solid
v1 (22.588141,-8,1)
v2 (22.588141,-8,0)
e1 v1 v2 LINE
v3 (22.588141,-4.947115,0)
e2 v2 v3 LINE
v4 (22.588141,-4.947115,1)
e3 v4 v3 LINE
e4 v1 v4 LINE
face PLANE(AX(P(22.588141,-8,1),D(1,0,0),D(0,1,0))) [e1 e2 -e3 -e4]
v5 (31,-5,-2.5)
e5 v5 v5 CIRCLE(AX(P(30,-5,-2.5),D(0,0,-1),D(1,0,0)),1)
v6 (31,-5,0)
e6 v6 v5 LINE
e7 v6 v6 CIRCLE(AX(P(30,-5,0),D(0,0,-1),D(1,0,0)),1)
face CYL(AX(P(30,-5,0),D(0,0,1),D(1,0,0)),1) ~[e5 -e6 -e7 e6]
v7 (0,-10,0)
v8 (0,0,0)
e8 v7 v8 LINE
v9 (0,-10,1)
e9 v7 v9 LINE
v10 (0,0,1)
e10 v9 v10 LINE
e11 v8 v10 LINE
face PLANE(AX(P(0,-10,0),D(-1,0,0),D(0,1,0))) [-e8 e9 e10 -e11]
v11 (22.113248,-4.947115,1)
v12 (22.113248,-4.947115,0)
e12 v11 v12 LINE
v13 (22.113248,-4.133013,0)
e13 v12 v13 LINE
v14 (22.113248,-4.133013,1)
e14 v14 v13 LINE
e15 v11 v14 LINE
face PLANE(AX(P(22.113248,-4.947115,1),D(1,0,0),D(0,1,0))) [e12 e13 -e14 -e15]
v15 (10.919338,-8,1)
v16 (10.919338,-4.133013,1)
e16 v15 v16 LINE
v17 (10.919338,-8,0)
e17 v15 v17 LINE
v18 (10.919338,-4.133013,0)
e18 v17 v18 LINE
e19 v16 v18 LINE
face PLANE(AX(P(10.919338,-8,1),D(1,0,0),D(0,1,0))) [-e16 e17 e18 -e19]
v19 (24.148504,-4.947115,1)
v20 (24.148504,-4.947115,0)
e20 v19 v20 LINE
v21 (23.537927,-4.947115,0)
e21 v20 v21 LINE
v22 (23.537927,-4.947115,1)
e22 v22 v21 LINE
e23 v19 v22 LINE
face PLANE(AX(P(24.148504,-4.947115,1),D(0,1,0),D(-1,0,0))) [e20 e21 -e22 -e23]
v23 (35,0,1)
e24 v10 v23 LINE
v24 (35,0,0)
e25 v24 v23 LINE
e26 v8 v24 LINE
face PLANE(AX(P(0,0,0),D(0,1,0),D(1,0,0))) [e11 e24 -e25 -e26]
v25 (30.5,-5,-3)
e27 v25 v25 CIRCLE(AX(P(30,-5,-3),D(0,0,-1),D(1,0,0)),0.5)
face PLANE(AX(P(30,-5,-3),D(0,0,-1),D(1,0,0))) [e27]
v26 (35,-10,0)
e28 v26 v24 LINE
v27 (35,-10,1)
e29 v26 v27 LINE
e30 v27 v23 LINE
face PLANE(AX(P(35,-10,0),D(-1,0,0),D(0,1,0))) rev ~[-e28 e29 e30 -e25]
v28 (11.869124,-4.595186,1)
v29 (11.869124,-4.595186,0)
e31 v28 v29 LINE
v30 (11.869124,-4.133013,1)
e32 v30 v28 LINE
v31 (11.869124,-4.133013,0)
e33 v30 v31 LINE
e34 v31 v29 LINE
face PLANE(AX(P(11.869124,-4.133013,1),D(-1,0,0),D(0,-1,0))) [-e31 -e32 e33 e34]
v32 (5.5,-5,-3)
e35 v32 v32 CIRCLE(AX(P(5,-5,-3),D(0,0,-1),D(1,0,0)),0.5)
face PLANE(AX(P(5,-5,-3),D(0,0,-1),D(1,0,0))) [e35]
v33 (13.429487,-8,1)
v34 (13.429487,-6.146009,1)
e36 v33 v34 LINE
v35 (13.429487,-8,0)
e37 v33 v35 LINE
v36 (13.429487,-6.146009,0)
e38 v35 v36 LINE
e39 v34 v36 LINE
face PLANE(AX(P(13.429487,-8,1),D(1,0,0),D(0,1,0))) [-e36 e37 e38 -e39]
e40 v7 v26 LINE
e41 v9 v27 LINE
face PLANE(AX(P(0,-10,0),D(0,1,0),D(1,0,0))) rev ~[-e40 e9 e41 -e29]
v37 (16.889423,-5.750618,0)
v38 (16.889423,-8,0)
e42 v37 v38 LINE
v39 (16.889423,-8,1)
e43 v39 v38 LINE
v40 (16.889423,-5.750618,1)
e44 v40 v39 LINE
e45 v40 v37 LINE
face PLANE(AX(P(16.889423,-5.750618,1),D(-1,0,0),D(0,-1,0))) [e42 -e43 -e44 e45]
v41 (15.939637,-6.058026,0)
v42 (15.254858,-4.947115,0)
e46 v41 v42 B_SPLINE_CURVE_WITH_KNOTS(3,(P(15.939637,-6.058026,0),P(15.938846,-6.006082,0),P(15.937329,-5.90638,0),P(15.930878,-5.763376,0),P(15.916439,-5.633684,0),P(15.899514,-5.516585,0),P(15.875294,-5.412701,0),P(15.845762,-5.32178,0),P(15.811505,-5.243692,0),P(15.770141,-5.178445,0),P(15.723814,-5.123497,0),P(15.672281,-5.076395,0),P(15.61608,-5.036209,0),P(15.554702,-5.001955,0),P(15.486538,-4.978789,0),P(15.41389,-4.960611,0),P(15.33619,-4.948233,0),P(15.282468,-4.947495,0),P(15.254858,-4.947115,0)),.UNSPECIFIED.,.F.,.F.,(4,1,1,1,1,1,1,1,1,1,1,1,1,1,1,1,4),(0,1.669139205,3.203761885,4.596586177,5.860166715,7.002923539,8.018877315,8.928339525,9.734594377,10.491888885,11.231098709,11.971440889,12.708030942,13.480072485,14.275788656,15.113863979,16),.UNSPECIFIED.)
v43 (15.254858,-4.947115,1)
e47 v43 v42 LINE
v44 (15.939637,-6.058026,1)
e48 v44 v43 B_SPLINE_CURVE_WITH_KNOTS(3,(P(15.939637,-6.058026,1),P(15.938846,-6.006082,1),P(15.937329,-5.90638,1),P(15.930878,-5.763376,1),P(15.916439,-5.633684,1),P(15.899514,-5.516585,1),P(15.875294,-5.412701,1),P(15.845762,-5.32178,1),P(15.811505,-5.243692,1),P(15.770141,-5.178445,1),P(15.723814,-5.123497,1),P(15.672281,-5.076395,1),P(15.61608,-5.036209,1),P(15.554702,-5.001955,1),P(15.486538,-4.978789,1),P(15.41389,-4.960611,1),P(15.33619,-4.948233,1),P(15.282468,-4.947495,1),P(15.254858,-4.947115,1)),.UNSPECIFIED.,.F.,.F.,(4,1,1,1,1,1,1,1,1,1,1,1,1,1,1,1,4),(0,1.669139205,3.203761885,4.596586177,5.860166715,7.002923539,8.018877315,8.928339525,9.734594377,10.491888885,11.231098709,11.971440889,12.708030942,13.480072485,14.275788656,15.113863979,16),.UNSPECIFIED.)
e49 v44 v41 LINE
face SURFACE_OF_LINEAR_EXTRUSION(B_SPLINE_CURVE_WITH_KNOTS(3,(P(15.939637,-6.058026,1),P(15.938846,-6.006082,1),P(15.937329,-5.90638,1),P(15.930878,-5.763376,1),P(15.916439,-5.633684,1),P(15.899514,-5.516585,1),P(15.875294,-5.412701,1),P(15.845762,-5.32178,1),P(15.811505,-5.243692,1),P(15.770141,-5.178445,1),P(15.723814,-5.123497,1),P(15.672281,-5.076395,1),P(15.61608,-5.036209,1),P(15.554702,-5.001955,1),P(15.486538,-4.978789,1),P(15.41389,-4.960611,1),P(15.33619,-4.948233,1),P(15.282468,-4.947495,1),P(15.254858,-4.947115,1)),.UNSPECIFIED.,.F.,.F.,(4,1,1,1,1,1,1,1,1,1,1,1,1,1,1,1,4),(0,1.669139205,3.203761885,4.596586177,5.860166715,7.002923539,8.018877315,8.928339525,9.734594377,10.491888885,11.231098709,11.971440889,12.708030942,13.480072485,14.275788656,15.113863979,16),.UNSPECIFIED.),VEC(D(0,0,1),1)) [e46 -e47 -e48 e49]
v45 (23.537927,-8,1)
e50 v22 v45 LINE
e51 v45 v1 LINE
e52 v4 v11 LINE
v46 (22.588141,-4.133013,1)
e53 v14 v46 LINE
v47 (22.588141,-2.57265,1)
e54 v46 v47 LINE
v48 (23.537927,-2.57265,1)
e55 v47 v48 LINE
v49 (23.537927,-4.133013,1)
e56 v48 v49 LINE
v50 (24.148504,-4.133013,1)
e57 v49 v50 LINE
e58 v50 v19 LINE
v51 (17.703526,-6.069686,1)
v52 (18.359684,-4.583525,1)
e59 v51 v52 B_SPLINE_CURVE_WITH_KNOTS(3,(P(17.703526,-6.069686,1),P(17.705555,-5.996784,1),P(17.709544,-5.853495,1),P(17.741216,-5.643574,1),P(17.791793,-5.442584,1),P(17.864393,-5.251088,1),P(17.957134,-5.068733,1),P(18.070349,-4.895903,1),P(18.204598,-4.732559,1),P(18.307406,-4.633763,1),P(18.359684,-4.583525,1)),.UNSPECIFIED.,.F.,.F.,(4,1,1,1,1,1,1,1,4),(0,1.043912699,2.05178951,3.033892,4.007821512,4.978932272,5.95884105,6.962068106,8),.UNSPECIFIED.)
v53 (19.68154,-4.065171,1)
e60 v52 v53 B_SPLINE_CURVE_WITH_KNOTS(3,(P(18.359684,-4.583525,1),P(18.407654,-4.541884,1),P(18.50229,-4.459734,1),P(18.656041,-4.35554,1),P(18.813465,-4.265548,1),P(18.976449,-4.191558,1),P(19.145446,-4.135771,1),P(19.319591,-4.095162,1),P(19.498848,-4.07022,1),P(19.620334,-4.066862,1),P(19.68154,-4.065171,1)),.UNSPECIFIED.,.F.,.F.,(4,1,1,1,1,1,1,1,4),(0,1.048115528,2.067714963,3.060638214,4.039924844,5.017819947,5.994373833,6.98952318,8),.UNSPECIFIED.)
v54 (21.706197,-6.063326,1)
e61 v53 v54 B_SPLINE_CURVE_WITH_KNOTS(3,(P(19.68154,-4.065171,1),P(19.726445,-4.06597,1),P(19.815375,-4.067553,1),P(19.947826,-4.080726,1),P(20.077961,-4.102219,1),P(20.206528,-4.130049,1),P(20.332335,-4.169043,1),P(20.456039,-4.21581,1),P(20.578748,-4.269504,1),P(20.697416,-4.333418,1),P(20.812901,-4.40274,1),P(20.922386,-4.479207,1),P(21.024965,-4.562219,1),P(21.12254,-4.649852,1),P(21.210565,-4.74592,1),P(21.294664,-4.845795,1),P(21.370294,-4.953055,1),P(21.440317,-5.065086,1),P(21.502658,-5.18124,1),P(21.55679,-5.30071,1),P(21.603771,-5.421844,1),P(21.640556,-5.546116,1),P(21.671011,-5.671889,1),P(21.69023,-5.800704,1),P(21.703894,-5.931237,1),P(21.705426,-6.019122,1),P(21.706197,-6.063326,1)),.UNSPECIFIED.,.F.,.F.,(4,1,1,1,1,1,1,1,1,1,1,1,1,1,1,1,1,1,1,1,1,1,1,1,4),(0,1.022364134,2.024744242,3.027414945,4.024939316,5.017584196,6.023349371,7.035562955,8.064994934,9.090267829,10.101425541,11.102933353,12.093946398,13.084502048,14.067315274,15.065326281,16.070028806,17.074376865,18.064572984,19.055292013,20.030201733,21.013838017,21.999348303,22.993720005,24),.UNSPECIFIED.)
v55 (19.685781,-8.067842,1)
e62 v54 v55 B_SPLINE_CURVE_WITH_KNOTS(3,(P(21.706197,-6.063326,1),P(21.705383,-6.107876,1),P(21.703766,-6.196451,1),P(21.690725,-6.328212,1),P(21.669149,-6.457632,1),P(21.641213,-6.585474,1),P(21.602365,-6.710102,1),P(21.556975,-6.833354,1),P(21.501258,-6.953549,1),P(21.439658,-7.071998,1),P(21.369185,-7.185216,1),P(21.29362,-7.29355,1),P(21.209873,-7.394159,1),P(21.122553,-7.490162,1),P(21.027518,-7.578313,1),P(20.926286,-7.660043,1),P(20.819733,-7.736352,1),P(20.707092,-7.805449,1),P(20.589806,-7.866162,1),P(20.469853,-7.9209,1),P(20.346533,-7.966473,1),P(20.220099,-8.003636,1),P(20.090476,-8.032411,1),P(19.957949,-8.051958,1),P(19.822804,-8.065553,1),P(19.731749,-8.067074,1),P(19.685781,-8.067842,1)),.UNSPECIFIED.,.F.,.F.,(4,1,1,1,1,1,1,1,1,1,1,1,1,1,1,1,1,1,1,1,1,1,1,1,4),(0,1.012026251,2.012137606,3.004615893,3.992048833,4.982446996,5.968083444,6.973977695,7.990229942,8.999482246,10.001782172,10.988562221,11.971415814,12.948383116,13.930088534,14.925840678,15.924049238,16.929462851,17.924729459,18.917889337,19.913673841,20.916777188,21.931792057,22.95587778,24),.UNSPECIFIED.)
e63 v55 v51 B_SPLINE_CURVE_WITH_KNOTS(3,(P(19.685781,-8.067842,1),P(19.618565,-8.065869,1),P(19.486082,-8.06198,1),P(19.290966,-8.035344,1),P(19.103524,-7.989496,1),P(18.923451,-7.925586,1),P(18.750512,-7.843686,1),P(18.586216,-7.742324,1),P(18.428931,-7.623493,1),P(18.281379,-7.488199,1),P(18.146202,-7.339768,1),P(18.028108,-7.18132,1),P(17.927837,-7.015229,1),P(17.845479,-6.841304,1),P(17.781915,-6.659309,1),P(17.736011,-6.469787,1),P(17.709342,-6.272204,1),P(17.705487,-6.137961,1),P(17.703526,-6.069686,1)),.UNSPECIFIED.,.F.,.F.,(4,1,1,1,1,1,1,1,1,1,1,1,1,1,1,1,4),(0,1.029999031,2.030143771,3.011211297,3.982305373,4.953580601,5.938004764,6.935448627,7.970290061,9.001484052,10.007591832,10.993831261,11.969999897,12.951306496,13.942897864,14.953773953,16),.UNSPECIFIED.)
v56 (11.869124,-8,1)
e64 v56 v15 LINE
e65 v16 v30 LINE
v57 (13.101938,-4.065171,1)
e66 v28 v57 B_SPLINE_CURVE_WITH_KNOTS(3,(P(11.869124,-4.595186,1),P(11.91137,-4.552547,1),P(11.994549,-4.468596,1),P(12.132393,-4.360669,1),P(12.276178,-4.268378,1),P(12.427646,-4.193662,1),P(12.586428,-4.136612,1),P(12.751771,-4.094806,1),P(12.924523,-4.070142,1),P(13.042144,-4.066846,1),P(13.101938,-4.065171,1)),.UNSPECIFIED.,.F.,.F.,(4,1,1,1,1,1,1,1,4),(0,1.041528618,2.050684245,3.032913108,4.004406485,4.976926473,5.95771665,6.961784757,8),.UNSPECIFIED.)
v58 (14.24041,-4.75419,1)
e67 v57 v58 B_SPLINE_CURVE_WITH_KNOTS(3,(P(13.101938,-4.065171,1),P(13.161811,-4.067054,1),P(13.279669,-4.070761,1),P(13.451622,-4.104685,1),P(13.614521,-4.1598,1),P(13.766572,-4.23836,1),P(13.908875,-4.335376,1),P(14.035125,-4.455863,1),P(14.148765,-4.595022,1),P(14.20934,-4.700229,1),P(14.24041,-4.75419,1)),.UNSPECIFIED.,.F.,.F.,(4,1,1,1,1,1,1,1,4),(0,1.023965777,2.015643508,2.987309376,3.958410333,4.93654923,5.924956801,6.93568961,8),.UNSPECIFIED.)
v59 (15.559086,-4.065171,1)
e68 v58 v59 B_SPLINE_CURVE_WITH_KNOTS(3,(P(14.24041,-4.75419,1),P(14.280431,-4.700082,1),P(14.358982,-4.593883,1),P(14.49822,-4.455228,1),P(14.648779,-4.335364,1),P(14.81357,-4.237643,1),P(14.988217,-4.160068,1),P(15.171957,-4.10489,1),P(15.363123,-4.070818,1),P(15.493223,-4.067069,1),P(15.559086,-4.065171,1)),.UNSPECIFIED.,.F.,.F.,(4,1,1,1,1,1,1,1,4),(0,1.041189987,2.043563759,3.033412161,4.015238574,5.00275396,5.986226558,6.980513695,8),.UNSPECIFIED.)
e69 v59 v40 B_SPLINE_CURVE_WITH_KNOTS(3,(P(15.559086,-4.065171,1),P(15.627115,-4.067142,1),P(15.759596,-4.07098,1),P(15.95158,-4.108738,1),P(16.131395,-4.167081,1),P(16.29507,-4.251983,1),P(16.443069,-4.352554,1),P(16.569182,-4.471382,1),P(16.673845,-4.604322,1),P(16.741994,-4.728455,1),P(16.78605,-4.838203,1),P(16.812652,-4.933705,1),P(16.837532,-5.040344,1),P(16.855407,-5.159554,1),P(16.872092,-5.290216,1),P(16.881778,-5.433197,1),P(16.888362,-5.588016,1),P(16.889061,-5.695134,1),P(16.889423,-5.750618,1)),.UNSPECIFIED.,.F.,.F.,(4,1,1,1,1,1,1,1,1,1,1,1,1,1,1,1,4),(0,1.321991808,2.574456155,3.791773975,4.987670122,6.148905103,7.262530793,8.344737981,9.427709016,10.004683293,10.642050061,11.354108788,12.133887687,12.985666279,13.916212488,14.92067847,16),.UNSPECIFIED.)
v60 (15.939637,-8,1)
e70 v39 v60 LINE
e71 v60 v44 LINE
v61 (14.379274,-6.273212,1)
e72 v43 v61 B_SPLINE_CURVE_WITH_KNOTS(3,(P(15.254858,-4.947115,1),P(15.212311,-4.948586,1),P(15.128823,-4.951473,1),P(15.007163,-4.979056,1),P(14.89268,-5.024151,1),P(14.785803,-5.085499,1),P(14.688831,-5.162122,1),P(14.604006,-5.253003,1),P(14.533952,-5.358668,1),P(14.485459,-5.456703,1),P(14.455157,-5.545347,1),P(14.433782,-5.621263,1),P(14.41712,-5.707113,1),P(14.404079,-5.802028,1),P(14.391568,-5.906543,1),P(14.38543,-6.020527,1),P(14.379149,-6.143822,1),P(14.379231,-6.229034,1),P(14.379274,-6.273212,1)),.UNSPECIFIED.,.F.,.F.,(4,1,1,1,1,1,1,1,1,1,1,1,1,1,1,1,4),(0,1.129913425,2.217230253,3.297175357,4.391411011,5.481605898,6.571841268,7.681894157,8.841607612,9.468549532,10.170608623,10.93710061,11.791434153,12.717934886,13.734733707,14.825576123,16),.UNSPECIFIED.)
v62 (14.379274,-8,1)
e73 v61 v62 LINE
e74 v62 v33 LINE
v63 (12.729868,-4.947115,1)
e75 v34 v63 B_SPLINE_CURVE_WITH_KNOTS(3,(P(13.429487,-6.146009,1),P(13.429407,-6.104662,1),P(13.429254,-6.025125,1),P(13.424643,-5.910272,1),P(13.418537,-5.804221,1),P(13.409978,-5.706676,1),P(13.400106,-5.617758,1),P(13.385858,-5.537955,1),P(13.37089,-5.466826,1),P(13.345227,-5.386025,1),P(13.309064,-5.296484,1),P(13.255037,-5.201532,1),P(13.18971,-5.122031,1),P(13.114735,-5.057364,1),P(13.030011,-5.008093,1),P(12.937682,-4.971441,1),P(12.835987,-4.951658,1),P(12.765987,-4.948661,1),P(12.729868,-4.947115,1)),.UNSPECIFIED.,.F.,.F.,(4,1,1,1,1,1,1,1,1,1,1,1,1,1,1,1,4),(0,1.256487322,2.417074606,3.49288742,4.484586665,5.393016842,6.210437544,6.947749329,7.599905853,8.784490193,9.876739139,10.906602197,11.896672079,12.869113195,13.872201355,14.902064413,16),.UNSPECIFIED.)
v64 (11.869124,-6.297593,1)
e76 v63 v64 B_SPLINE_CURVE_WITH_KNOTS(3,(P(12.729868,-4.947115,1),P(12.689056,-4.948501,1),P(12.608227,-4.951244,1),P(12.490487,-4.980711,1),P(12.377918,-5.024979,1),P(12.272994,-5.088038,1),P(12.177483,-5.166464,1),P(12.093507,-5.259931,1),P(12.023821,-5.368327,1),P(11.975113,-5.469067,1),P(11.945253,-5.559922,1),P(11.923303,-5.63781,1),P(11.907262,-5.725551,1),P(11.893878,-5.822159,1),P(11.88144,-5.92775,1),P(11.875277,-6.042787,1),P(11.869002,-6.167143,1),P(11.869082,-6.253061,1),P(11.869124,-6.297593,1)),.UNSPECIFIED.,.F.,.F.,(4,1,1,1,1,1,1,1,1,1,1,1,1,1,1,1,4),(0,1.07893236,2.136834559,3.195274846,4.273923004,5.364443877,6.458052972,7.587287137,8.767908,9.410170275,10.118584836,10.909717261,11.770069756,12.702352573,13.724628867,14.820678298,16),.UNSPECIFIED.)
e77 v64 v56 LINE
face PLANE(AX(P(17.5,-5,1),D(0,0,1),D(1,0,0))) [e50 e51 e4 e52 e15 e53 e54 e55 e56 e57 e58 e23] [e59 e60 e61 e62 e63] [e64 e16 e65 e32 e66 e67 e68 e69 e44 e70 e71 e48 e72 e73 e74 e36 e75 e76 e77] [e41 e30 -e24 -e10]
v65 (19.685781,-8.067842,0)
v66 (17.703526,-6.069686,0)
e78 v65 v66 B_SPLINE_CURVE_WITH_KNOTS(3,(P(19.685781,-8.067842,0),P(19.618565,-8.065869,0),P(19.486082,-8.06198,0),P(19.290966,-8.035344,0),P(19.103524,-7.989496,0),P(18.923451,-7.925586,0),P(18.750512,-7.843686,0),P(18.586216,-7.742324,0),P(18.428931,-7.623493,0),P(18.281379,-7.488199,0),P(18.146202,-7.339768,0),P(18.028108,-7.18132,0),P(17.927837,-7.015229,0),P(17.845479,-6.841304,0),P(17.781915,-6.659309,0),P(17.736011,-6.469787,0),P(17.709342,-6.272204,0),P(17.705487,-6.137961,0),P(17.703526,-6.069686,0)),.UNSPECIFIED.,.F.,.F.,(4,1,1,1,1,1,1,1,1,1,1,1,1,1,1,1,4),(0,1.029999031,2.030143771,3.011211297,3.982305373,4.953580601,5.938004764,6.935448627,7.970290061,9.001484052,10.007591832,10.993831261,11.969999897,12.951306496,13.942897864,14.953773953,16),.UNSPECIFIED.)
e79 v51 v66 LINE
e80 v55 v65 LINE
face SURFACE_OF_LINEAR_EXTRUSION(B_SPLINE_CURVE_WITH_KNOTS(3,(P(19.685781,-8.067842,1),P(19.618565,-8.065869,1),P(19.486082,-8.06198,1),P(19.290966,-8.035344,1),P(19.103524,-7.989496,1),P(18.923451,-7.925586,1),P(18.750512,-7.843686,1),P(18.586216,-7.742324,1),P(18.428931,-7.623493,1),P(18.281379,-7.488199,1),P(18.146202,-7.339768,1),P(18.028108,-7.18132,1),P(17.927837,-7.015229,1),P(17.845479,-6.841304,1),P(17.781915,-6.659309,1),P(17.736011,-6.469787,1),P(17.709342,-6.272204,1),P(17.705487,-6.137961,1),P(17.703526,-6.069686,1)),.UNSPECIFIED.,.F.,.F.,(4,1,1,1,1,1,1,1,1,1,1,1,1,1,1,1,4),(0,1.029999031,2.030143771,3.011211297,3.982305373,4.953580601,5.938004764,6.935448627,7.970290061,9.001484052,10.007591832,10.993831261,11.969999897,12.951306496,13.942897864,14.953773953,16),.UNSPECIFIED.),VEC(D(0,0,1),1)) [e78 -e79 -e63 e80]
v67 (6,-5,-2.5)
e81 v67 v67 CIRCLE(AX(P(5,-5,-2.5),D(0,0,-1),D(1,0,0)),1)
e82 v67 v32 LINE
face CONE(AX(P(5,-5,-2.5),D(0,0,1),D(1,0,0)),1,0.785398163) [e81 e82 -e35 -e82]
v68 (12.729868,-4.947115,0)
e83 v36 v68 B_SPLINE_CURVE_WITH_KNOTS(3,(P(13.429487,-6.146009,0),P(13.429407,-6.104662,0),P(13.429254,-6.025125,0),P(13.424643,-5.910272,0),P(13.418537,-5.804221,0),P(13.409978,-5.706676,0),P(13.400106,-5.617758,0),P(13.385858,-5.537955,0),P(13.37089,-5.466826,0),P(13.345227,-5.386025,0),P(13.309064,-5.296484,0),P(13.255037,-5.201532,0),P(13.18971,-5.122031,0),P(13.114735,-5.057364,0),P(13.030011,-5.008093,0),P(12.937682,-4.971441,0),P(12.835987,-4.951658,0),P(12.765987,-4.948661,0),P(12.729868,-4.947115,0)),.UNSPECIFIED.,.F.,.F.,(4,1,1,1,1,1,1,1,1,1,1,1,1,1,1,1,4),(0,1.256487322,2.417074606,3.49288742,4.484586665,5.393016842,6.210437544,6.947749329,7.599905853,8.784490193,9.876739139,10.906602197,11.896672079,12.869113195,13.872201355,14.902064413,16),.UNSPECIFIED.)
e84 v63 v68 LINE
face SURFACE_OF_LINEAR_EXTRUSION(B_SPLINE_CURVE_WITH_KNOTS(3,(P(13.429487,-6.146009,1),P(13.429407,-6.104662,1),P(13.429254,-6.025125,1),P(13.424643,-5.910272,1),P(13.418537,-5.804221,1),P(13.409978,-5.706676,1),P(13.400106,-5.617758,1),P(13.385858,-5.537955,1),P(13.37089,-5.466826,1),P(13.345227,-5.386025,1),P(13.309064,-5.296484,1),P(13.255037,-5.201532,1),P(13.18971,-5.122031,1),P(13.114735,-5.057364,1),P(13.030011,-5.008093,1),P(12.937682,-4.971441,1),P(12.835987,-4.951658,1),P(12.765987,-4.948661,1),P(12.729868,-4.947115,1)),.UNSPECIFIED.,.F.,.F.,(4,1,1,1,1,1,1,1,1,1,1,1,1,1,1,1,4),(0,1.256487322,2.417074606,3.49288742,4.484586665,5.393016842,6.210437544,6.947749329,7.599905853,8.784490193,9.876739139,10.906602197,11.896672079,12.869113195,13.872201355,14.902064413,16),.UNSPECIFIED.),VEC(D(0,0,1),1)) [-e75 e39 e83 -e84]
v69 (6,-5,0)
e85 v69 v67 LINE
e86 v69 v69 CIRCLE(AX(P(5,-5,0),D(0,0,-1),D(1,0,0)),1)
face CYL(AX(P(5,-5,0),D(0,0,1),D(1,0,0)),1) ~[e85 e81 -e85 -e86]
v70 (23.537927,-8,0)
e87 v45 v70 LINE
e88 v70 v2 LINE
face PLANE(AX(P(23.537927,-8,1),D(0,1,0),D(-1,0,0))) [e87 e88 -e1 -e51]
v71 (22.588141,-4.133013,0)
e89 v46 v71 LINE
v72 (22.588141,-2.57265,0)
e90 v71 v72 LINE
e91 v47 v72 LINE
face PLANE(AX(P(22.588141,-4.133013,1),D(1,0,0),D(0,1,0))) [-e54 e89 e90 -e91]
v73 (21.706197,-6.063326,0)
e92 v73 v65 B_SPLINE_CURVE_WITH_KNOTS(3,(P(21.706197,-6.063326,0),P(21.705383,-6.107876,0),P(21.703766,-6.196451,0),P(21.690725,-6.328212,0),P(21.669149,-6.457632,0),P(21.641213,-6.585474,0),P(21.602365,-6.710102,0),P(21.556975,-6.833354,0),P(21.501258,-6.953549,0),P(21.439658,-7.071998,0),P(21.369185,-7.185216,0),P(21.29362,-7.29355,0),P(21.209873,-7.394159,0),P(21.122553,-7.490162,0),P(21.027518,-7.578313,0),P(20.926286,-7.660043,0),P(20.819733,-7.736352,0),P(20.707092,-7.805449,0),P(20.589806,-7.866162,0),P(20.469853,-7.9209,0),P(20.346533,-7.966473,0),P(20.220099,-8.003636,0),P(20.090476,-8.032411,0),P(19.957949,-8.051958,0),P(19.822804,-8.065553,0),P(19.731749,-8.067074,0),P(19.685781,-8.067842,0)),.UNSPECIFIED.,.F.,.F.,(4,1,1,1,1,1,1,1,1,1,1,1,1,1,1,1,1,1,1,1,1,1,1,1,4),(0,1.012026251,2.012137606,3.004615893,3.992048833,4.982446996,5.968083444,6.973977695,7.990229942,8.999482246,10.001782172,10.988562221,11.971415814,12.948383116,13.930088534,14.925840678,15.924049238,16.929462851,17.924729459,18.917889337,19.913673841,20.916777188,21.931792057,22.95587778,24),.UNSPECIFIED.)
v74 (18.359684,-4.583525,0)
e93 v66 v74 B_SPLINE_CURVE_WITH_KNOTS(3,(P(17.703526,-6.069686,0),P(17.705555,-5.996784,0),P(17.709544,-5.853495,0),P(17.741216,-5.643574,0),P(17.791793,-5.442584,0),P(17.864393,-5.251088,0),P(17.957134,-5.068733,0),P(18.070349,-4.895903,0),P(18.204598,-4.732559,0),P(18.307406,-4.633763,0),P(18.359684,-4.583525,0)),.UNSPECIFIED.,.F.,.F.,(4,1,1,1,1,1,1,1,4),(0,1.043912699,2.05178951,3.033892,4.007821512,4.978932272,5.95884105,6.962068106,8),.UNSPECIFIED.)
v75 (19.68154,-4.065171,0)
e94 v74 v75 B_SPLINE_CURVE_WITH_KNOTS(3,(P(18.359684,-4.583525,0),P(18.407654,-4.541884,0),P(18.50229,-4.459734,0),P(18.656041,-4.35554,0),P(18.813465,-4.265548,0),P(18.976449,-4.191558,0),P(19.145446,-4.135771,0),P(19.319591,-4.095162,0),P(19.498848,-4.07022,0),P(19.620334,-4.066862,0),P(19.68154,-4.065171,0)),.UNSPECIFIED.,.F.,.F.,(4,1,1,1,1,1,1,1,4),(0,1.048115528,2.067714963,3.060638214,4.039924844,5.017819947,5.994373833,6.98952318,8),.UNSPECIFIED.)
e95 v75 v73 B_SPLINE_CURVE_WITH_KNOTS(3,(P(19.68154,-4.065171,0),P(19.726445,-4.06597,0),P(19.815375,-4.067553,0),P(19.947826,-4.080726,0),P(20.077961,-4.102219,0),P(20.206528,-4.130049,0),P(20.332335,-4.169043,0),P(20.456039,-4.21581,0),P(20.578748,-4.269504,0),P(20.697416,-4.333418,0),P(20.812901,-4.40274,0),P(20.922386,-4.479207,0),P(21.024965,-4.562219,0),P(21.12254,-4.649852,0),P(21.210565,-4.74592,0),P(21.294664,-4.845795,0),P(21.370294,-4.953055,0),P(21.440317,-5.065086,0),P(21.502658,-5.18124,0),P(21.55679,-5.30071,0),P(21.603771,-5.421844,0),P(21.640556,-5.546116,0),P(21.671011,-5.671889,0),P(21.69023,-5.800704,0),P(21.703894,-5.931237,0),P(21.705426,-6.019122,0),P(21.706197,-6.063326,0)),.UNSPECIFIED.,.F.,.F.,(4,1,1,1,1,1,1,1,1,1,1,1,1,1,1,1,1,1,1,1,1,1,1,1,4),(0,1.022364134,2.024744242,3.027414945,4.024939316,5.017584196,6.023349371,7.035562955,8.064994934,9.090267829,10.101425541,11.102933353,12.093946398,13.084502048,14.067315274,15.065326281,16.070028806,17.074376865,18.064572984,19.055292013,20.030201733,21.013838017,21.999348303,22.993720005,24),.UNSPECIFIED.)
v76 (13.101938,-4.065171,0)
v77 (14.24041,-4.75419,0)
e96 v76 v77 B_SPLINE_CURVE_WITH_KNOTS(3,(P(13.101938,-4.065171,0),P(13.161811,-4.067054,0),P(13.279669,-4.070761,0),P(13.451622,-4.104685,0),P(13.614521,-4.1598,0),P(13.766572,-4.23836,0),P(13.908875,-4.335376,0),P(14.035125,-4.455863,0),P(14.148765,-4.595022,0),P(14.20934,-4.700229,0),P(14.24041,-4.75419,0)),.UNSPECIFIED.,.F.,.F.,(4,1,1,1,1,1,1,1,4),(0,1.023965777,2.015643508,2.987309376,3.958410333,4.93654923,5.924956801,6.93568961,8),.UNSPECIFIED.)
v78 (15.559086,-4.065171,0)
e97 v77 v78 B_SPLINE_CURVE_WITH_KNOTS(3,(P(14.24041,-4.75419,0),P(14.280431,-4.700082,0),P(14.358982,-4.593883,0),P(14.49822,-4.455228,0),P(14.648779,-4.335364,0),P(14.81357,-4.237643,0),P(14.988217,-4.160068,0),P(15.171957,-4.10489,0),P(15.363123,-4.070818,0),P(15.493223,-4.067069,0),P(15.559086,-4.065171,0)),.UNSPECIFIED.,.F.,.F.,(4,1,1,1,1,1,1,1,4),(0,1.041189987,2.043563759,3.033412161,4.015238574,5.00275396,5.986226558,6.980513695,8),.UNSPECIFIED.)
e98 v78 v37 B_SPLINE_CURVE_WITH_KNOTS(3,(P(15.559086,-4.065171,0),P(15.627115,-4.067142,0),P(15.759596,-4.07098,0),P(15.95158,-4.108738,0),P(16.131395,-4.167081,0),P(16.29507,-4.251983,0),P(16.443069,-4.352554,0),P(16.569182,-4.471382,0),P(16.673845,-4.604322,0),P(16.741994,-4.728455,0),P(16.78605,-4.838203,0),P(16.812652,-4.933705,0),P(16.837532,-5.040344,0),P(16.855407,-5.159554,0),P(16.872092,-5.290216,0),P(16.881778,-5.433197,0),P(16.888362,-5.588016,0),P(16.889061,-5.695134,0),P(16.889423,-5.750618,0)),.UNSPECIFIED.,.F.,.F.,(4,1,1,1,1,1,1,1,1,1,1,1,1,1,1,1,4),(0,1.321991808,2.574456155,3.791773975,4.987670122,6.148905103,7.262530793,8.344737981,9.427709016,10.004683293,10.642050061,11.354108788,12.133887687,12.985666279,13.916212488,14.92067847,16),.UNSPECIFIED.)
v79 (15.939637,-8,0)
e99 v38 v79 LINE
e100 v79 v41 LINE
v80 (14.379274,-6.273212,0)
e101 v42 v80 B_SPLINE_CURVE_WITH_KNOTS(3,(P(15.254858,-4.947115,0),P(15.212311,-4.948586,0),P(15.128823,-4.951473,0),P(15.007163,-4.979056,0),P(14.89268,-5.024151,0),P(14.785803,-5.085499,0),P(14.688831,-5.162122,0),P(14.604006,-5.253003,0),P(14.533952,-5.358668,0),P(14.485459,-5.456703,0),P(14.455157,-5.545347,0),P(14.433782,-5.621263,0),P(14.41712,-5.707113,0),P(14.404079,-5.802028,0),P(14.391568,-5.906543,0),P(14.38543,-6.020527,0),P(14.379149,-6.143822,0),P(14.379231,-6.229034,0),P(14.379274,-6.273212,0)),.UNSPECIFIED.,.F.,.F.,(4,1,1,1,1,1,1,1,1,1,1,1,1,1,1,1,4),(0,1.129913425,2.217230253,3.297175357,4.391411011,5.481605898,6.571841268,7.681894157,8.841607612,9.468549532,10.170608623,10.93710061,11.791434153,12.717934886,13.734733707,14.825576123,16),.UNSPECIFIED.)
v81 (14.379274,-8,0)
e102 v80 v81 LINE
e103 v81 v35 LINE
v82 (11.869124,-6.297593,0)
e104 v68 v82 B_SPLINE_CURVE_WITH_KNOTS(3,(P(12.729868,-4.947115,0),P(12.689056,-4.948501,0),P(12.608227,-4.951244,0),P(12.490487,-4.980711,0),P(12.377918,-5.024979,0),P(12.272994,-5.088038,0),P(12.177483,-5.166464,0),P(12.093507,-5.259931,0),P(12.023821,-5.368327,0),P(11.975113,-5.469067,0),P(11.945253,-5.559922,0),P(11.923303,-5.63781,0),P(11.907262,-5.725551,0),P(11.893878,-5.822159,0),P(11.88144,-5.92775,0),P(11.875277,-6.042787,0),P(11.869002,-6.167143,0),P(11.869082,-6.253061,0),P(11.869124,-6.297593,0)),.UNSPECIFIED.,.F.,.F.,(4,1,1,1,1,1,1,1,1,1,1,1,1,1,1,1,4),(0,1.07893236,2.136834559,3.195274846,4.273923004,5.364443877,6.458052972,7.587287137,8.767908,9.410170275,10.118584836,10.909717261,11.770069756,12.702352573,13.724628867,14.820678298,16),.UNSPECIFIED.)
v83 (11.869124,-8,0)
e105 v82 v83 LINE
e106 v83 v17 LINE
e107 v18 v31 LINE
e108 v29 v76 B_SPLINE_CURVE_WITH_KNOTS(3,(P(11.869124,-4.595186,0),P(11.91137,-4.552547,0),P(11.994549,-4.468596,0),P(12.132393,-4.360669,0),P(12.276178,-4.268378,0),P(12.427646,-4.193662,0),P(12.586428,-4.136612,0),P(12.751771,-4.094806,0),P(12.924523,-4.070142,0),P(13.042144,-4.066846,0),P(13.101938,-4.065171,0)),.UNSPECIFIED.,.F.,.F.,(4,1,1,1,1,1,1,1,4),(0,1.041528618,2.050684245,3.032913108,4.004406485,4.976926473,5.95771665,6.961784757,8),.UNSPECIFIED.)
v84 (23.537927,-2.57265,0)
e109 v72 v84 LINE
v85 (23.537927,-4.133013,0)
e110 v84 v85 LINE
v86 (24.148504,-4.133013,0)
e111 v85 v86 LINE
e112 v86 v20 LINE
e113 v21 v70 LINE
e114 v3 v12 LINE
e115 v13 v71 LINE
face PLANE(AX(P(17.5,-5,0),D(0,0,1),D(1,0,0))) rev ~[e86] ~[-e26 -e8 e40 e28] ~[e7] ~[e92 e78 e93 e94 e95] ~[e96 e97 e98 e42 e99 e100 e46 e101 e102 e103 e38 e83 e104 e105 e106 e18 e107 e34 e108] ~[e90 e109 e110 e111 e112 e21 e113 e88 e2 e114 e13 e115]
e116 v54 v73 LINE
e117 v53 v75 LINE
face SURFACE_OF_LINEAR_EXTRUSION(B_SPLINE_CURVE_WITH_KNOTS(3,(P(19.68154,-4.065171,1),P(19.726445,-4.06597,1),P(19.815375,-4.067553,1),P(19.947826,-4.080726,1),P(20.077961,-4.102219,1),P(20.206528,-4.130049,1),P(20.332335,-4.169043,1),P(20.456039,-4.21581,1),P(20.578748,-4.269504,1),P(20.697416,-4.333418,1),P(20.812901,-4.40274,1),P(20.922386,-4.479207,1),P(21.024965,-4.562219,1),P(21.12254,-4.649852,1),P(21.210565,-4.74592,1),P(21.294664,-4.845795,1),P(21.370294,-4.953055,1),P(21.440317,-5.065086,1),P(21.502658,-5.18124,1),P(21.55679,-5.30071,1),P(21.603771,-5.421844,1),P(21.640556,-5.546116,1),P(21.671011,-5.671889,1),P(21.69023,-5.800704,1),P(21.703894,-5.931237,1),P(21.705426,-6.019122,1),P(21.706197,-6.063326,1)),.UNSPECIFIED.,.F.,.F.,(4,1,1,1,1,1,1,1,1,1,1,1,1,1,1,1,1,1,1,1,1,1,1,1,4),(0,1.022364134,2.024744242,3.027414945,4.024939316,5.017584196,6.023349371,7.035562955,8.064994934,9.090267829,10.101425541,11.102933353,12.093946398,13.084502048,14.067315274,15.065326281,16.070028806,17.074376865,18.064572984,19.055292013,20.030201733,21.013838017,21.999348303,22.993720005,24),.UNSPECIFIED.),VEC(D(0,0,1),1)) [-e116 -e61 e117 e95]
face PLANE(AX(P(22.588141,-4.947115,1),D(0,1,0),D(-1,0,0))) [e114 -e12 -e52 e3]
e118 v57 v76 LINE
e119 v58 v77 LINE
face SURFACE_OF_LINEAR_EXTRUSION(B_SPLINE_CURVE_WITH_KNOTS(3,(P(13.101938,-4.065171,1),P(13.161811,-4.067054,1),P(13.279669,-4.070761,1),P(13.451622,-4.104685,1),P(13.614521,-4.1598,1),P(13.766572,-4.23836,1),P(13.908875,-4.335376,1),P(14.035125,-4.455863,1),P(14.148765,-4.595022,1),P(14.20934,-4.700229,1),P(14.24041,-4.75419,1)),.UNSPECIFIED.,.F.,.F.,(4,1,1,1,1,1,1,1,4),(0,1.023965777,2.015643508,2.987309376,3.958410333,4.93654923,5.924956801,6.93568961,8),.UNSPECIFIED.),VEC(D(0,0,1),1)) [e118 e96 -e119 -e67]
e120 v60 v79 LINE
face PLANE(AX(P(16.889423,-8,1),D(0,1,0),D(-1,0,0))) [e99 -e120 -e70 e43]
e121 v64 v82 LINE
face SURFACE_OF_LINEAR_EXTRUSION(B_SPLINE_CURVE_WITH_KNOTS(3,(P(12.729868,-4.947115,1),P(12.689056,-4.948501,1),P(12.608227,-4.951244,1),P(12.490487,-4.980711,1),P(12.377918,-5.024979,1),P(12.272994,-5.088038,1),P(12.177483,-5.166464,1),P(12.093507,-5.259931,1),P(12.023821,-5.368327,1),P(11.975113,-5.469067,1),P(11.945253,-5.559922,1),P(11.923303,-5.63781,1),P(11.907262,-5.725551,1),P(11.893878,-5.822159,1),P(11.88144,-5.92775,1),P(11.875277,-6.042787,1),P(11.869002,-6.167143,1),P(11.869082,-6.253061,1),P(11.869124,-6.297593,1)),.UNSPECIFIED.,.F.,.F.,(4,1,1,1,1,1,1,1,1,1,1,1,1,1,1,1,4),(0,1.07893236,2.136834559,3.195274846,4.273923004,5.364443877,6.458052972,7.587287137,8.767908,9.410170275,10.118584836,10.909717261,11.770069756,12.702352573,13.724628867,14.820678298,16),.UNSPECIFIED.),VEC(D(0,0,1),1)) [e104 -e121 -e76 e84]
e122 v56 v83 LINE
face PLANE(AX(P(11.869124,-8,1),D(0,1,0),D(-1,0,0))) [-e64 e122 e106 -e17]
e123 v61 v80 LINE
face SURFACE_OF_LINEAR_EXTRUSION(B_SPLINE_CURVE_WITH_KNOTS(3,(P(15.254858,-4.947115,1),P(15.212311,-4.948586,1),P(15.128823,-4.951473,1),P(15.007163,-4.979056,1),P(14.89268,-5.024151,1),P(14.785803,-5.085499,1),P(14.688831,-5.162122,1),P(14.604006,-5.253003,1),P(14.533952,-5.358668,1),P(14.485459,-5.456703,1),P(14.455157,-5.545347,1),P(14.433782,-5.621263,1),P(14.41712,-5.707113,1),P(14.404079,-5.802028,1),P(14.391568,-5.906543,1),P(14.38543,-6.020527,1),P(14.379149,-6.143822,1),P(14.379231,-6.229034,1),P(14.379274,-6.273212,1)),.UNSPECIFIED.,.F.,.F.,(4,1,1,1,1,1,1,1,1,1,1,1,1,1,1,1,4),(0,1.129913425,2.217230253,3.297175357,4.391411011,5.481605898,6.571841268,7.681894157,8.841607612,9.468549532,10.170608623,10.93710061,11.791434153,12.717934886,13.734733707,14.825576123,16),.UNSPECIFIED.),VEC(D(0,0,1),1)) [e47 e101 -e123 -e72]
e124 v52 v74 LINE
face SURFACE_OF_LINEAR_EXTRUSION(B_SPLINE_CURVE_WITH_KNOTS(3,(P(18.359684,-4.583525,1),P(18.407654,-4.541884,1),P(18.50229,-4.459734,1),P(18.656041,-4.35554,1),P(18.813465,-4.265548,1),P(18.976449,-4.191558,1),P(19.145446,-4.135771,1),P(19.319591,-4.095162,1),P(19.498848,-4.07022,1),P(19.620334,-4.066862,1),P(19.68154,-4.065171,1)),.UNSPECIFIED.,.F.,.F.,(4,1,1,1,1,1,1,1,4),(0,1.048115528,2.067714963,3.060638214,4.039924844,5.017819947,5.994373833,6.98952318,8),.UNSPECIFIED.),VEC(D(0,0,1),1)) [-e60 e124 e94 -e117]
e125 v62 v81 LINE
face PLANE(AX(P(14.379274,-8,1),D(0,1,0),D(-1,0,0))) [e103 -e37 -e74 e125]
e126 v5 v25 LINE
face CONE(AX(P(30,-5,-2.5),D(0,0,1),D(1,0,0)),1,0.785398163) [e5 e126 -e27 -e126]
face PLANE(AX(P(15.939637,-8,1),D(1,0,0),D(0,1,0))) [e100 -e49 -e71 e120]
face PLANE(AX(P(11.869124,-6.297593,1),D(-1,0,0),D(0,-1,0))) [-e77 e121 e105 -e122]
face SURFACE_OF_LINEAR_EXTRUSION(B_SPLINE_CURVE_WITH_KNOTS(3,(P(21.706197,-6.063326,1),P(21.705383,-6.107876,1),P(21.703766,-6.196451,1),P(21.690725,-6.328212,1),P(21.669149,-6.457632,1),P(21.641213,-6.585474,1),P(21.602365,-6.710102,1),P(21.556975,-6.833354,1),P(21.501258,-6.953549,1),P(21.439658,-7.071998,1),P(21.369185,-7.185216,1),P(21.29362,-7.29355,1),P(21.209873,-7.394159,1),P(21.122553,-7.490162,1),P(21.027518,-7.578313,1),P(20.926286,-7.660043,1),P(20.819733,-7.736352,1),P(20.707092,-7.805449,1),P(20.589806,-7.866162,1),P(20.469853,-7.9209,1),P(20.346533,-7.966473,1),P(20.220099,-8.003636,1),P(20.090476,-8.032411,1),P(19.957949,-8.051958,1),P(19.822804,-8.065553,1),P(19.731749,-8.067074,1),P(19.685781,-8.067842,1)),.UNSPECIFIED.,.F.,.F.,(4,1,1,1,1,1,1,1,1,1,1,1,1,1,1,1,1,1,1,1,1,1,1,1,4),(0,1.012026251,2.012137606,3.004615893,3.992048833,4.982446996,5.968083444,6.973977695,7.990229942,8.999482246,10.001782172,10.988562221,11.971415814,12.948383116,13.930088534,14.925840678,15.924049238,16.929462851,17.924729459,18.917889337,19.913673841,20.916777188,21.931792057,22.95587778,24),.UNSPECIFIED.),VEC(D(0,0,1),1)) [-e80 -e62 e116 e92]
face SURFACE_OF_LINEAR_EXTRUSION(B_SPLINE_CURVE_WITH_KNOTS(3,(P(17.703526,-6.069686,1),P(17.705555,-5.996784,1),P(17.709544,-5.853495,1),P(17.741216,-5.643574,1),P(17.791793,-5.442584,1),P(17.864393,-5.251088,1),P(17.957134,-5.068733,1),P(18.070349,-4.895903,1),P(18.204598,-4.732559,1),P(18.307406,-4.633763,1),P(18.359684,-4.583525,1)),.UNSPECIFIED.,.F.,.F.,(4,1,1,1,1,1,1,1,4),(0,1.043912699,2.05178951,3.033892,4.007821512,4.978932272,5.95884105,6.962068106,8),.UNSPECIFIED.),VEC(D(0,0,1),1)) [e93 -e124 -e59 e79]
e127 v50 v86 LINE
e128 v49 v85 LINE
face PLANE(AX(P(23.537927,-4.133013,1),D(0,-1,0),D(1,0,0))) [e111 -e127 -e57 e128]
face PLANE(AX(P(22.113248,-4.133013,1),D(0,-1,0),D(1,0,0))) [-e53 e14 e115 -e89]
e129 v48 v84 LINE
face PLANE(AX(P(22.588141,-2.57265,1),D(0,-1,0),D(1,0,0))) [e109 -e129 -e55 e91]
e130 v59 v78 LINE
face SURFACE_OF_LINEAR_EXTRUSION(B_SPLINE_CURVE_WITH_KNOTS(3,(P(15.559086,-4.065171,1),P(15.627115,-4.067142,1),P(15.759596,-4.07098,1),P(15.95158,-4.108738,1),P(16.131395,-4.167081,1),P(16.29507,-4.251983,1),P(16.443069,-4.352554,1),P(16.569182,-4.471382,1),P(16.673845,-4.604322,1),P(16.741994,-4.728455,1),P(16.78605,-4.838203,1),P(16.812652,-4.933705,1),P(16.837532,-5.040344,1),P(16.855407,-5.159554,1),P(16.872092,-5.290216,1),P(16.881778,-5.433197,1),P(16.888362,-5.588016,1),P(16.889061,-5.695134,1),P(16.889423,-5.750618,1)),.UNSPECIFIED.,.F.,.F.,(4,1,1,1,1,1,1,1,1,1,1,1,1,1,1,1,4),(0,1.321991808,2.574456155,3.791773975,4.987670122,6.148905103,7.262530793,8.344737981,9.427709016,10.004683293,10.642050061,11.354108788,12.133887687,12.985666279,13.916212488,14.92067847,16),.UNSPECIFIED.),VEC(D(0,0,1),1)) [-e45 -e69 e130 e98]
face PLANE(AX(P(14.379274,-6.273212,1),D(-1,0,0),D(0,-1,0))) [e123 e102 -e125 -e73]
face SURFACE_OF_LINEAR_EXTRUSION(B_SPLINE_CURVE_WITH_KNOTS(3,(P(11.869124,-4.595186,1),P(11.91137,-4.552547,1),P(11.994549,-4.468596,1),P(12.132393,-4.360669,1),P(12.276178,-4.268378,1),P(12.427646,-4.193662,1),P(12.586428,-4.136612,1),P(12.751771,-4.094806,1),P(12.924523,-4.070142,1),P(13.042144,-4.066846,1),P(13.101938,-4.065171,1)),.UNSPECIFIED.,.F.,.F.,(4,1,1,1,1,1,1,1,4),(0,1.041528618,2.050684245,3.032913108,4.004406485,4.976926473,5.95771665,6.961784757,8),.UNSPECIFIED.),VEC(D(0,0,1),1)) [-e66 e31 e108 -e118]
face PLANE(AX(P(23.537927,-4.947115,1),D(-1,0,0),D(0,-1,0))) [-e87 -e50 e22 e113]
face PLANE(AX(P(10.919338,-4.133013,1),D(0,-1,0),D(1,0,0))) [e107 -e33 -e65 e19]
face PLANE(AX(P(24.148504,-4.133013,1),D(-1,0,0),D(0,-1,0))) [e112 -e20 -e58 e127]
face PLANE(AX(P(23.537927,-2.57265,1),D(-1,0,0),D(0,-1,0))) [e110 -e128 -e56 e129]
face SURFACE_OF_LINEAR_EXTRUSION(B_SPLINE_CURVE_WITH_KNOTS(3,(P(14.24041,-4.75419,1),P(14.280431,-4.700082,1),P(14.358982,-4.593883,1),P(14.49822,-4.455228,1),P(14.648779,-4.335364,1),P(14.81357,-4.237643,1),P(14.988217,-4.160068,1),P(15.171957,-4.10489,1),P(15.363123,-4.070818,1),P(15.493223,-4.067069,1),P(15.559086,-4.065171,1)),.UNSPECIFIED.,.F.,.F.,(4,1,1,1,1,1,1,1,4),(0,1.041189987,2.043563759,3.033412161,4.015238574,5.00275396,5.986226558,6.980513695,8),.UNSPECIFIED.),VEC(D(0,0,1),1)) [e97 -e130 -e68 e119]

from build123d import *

# Parameters (mm, degrees)
ESQUISSE1_W             = 35
ESQUISSE1_H             = 10
BOSS_EXTRU_1_DEPTH      = 1
ESQUISSE2_R             = 1
BOSS_EXTRU_2_DEPTH      = 3
CHANFREIN1_SIZE         = 0.5
ENL_V_MAT_EXTRU_2_DEPTH = 1


with BuildPart() as part:
    # Esquisse1 → Boss.-Extru.1 (new body)
    with BuildSketch(Plane.XY):
        with Locations((17.5, -5)):
            Rectangle(ESQUISSE1_W, ESQUISSE1_H)
    extrude(amount=BOSS_EXTRU_1_DEPTH)

    # Esquisse2 → Boss.-Extru.2 (add)
    with BuildSketch(Plane(origin=(0, 0, 0), x_dir=(-1, 0, 0), z_dir=(0, 0, -1))):
        with Locations(Location((-30, -5, 0), (0, 0, 180))):  # turned: the seam where the file's is
            Circle(ESQUISSE2_R)
        with Locations(Location((-5, -5, 0), (0, 0, 180))):  # turned: the seam where the file's is
            Circle(ESQUISSE2_R)
    extrude(amount=BOSS_EXTRU_2_DEPTH)

    # Chanfrein1
    chanfrein1_edges = [part.edges().sort_by_distance(p)[0] for p in [
        (29, -5, -3),
        (4, -5, -3),
    ]]
    chamfer(chanfrein1_edges, length=CHANFREIN1_SIZE)

    # Esquisse3 → Enlèv. mat.-Extru.2 (cut)
    with BuildSketch(Plane.XY.offset(1)):
        with BuildLine():
            Line((10.919337607, -4.133012821), (11.869123932, -4.133012821))
            Line((11.869123932, -4.133012821), (11.869123932, -4.59518563))
            add(Edge.make_bspline(
                [(11.869123932, -4.59518563), (11.911369945, -4.552547263), (11.994548872, -4.468595821), (12.132392627, -4.360668696), (12.276177621, -4.268377671), (12.4276463, -4.193662277), (12.586428178, -4.136611678), (12.751770713, -4.09480584), (12.924523171, -4.070141705), (13.042144246, -4.066846229), (13.101938101, -4.06517094)],
                knots=[0, 0, 0, 0, 1.041528618, 2.050684245, 3.032913108, 4.004406485, 4.976926473, 5.95771665, 6.961784757, 8, 8, 8, 8], degree=3))
            add(Edge.make_bspline(
                [(13.101938101, -4.06517094), (13.161810904, -4.067054206), (13.279668581, -4.070761355), (13.451622112, -4.104685241), (13.614520608, -4.159800091), (13.766571805, -4.238359539), (13.908874639, -4.335376374), (14.035125, -4.45586279), (14.148765497, -4.595022486), (14.209340256, -4.700228713), (14.240409655, -4.754190037)],
                knots=[0, 0, 0, 0, 1.023965777, 2.015643508, 2.987309376, 3.958410333, 4.93654923, 5.924956801, 6.93568961, 8, 8, 8, 8], degree=3))
            add(Edge.make_bspline(
                [(14.240409655, -4.754190037), (14.280431057, -4.700081917), (14.358981836, -4.593882862), (14.498220248, -4.455227954), (14.648778513, -4.33536381), (14.813569588, -4.237643293), (14.988217192, -4.160068241), (15.171957089, -4.104890023), (15.363123432, -4.070818051), (15.493222619, -4.067068949), (15.559086205, -4.06517094)],
                knots=[0, 0, 0, 0, 1.041189987, 2.043563759, 3.033412161, 4.015238574, 5.00275396, 5.986226558, 6.980513695, 8, 8, 8, 8], degree=3))
            add(Edge.make_bspline(
                [(15.559086205, -4.06517094), (15.627115467, -4.067141729), (15.759596132, -4.070979658), (15.95157964, -4.108738156), (16.131395426, -4.167080701), (16.295069614, -4.251983383), (16.443069016, -4.352553973), (16.569182361, -4.471382321), (16.673844914, -4.604321999), (16.741993657, -4.728455222), (16.786049989, -4.838203205), (16.812651593, -4.933704514), (16.837532324, -5.040343805), (16.855406639, -5.159554459), (16.872091524, -5.290215988), (16.881777755, -5.433197075), (16.888361587, -5.588016049), (16.889060874, -5.695134454), (16.889423077, -5.750617655)],
                knots=[0, 0, 0, 0, 1.321991808, 2.574456155, 3.791773975, 4.987670122, 6.148905103, 7.262530793, 8.344737981, 9.427709016, 10.004683293, 10.642050061, 11.354108788, 12.133887687, 12.985666279, 13.916212488, 14.92067847, 16, 16, 16, 16], degree=3))
            Line((16.889423077, -5.750617655), (16.889423077, -8))
            Line((16.889423077, -8), (15.939636752, -8))
            Line((15.939636752, -8), (15.939636752, -6.058026175))
            add(Edge.make_bspline(
                [(15.939636752, -6.058026175), (15.938846235, -6.006081985), (15.937328909, -5.906379806), (15.93087817, -5.763376066), (15.916438656, -5.633684014), (15.899513696, -5.516585277), (15.875293753, -5.412700728), (15.845761929, -5.321779938), (15.811505193, -5.243692031), (15.770141216, -5.178445146), (15.723813514, -5.123496962), (15.672280628, -5.076395486), (15.616079868, -5.036208607), (15.554701692, -5.001955004), (15.486538148, -4.978788614), (15.41389033, -4.960611438), (15.336189747, -4.948232651), (15.282467581, -4.947494664), (15.254857772, -4.947115385)],
                knots=[0, 0, 0, 0, 1.669139205, 3.203761885, 4.596586177, 5.860166715, 7.002923539, 8.018877315, 8.928339525, 9.734594377, 10.491888885, 11.231098709, 11.971440889, 12.708030942, 13.480072485, 14.275788656, 15.113863979, 16, 16, 16, 16], degree=3))
            add(Edge.make_bspline(
                [(15.254857772, -4.947115385), (15.212311448, -4.948586321), (15.128822752, -4.951472742), (15.007162706, -4.979055723), (14.892679706, -5.024150945), (14.785802653, -5.085499), (14.688831303, -5.162121562), (14.60400592, -5.253003227), (14.533951983, -5.358667753), (14.48545894, -5.456703237), (14.455156879, -5.545347015), (14.43378153, -5.621263291), (14.417120294, -5.707113371), (14.404079425, -5.802027791), (14.391568234, -5.906543112), (14.385430314, -6.02052717), (14.379149348, -6.143821616), (14.379231113, -6.229033939), (14.379273504, -6.273212139)],
                knots=[0, 0, 0, 0, 1.129913425, 2.217230253, 3.297175357, 4.391411011, 5.481605898, 6.571841268, 7.681894157, 8.841607612, 9.468549532, 10.170608623, 10.93710061, 11.791434153, 12.717934886, 13.734733707, 14.825576123, 16, 16, 16, 16], degree=3))
            Line((14.379273504, -6.273212139), (14.379273504, -8))
            Line((14.379273504, -8), (13.429487179, -8))
            Line((13.429487179, -8), (13.429487179, -6.146008614))
            add(Edge.make_bspline(
                [(13.429487179, -6.146008614), (13.429407435, -6.104662165), (13.429254033, -6.02512499), (13.424643067, -5.910271787), (13.418537248, -5.804220605), (13.409977599, -5.706675648), (13.400105731, -5.617758237), (13.38585835, -5.537954814), (13.370890161, -5.466825637), (13.345227, -5.386025014), (13.309064305, -5.296484401), (13.25503671, -5.201531568), (13.18970997, -5.122030947), (13.114735212, -5.057363855), (13.030010519, -5.00809272), (12.93768223, -4.971441119), (12.835987395, -4.95165771), (12.76598747, -4.948661445), (12.729867788, -4.947115385)],
                knots=[0, 0, 0, 0, 1.256487322, 2.417074606, 3.49288742, 4.484586665, 5.393016842, 6.210437544, 6.947749329, 7.599905853, 8.784490193, 9.876739139, 10.906602197, 11.896672079, 12.869113195, 13.872201355, 14.902064413, 16, 16, 16, 16], degree=3))
            add(Edge.make_bspline(
                [(12.729867788, -4.947115385), (12.689055656, -4.948500619), (12.608226888, -4.951244088), (12.490487438, -4.980711182), (12.377917606, -5.024978991), (12.272993811, -5.088038137), (12.177483341, -5.166463861), (12.09350724, -5.259930578), (12.023821463, -5.36832742), (11.975113169, -5.469067075), (11.945252948, -5.559922392), (11.923302846, -5.637809906), (11.907261515, -5.725550598), (11.893877502, -5.822159294), (11.881440381, -5.927750032), (11.875277064, -6.042787158), (11.869002305, -6.167143162), (11.869082412, -6.253061473), (11.869123932, -6.297592815)],
                knots=[0, 0, 0, 0, 1.07893236, 2.136834559, 3.195274846, 4.273923004, 5.364443877, 6.458052972, 7.587287137, 8.767908, 9.410170275, 10.118584836, 10.909717261, 11.770069756, 12.702352573, 13.724628867, 14.820678298, 16, 16, 16, 16], degree=3))
            Line((11.869123932, -6.297592815), (11.869123932, -8))
            Line((11.869123932, -8), (10.919337607, -8))
            Line((10.919337607, -8), (10.919337607, -4.133012821))
        make_face()
        with BuildLine():
            add(Edge.make_bspline(
                [(19.681540465, -4.06517094), (19.726444529, -4.065970039), (19.815374922, -4.067552616), (19.947825633, -4.080726126), (20.077960801, -4.102219251), (20.206528424, -4.130049096), (20.332334633, -4.169042871), (20.456039265, -4.215809874), (20.578748398, -4.269503864), (20.697416414, -4.333418492), (20.812900602, -4.402739736), (20.922386485, -4.479206755), (21.024964859, -4.562218928), (21.122539926, -4.649851552), (21.210564532, -4.745919865), (21.294663922, -4.845794894), (21.370294409, -4.953054811), (21.440317345, -5.065085941), (21.502658262, -5.18124043), (21.556789883, -5.300710266), (21.603771041, -5.421843694), (21.640556346, -5.546116201), (21.671011188, -5.67188909), (21.690230358, -5.800703613), (21.703893855, -5.931236522), (21.705425966, -6.019122018), (21.706196581, -6.063326322)],
                knots=[0, 0, 0, 0, 1.022364134, 2.024744242, 3.027414945, 4.024939316, 5.017584196, 6.023349371, 7.035562955, 8.064994934, 9.090267829, 10.101425541, 11.102933353, 12.093946398, 13.084502048, 14.067315274, 15.065326281, 16.070028806, 17.074376865, 18.064572984, 19.055292013, 20.030201733, 21.013838017, 21.999348303, 22.993720005, 24, 24, 24, 24], degree=3))
            add(Edge.make_bspline(
                [(21.706196581, -6.063326322), (21.705383324, -6.107875973), (21.703766386, -6.196450777), (21.690724686, -6.328211509), (21.669149293, -6.457631787), (21.641212636, -6.585474047), (21.602364786, -6.710102427), (21.556975221, -6.833353996), (21.501257744, -6.953548791), (21.439657967, -7.071998023), (21.369184813, -7.185216092), (21.293619792, -7.293550495), (21.209872653, -7.394159111), (21.122552708, -7.490162093), (21.027518175, -7.57831305), (20.926285984, -7.660043319), (20.819732523, -7.736352088), (20.707091561, -7.805449009), (20.58980584, -7.866162011), (20.469853363, -7.920899736), (20.346532713, -7.9664728), (20.220099109, -8.003636379), (20.090475874, -8.032411209), (19.957949183, -8.051958292), (19.822804448, -8.065553064), (19.731749247, -8.06707403), (19.685780582, -8.06784188)],
                knots=[0, 0, 0, 0, 1.012026251, 2.012137606, 3.004615893, 3.992048833, 4.982446996, 5.968083444, 6.973977695, 7.990229942, 8.999482246, 10.001782172, 10.988562221, 11.971415814, 12.948383116, 13.930088534, 14.925840678, 15.924049238, 16.929462851, 17.924729459, 18.917889337, 19.913673841, 20.916777188, 21.931792057, 22.95587778, 24, 24, 24, 24], degree=3))
            add(Edge.make_bspline(
                [(19.685780582, -8.06784188), (19.61856502, -8.065868971), (19.486082124, -8.061980337), (19.29096614, -8.03534421), (19.103524089, -7.989496451), (18.923450535, -7.925585687), (18.750511559, -7.843686424), (18.586216434, -7.742323649), (18.428930871, -7.623492905), (18.281379174, -7.488198559), (18.146201831, -7.339768411), (18.028108159, -7.181320132), (17.927837074, -7.015228595), (17.845478791, -6.841304401), (17.781914991, -6.659309053), (17.736011082, -6.469786652), (17.709342389, -6.272204479), (17.705486643, -6.137961452), (17.703525641, -6.069686498)],
                knots=[0, 0, 0, 0, 1.029999031, 2.030143771, 3.011211297, 3.982305373, 4.953580601, 5.938004764, 6.935448627, 7.970290061, 9.001484052, 10.007591832, 10.993831261, 11.969999897, 12.951306496, 13.942897864, 14.953773953, 16, 16, 16, 16], degree=3))
            add(Edge.make_bspline(
                [(17.703525641, -6.069686498), (17.705555029, -5.996783815), (17.709543751, -5.85349505), (17.741215955, -5.643573745), (17.79179305, -5.442584044), (17.864393283, -5.251088178), (17.957133695, -5.068732961), (18.070348721, -4.895902998), (18.204597875, -4.732559142), (18.307405845, -4.633763179), (18.359683827, -4.583525307)],
                knots=[0, 0, 0, 0, 1.043912699, 2.05178951, 3.033892, 4.007821512, 4.978932272, 5.95884105, 6.962068106, 8, 8, 8, 8], degree=3))
            add(Edge.make_bspline(
                [(18.359683827, -4.583525307), (18.407654102, -4.541883762), (18.502289522, -4.459733615), (18.656040934, -4.35553962), (18.81346503, -4.265547797), (18.976448605, -4.19155778), (19.145446017, -4.135770502), (19.31959125, -4.095162354), (19.498848091, -4.07021964), (19.620333533, -4.066862392), (19.681540465, -4.06517094)],
                knots=[0, 0, 0, 0, 1.048115528, 2.067714963, 3.060638214, 4.039924844, 5.017819947, 5.994373833, 6.98952318, 8, 8, 8, 8], degree=3))
        make_face()
        with BuildLine():
            add(Edge.make_bspline(
                [(19.702741052, -4.947115385), (19.665967932, -4.948337601), (19.59357965, -4.950743548), (19.487022196, -4.963655622), (19.386239033, -4.990120026), (19.289228422, -5.023775504), (19.197706488, -5.068784965), (19.109166771, -5.121456407), (19.028213143, -5.187368235), (18.950927999, -5.259668688), (18.880770315, -5.339956401), (18.820989306, -5.427429804), (18.76757365, -5.518742348), (18.727071267, -5.6172371), (18.693551673, -5.720221911), (18.670866013, -5.829360703), (18.655078379, -5.943434337), (18.653906371, -6.021575558), (18.653311966, -6.061206263)],
                knots=[0, 0, 0, 0, 1.030650113, 2.02884584, 2.99876339, 3.944280128, 4.900564847, 5.851248946, 6.823638398, 7.81794922, 8.81432732, 9.802856497, 10.78262424, 11.771747962, 12.779760563, 13.812642396, 14.89064281, 16, 16, 16, 16], degree=3))
            add(Edge.make_bspline(
                [(18.653311966, -6.061206263), (18.6540075, -6.102234547), (18.655366789, -6.182416449), (18.669442504, -6.299492807), (18.692653823, -6.410597496), (18.725629832, -6.515558881), (18.767102732, -6.615130364), (18.817985171, -6.708753279), (18.878814156, -6.79586471), (18.947779461, -6.876357385), (19.023293524, -6.949421477), (19.106035932, -7.012122346), (19.192541742, -7.06660108), (19.284804519, -7.110355912), (19.381513867, -7.144138192), (19.482956876, -7.169010948), (19.589666628, -7.182411184), (19.662425816, -7.184719372), (19.699560964, -7.185897436)],
                knots=[0, 0, 0, 0, 1.141730614, 2.231293227, 3.276944405, 4.297399982, 5.28939179, 6.275415646, 7.257752684, 8.24146775, 9.222424823, 10.176631434, 11.126518621, 12.063689483, 13.012557477, 13.974037417, 14.965980454, 16, 16, 16, 16], degree=3))
            add(Edge.make_bspline(
                [(19.699560964, -7.185897436), (19.736714686, -7.184852547), (19.809557549, -7.182803958), (19.916392612, -7.167463261), (20.018353664, -7.143320027), (20.115888985, -7.109246995), (20.208209994, -7.064555614), (20.295670104, -7.009816247), (20.379038713, -6.946243265), (20.455566182, -6.871800593), (20.526406197, -6.79105689), (20.588528653, -6.703485604), (20.640440521, -6.609862664), (20.683017547, -6.510777147), (20.716058201, -6.406365245), (20.738885252, -6.296238872), (20.754681327, -6.180739318), (20.755826829, -6.101542694), (20.756410256, -6.061206263)],
                knots=[0, 0, 0, 0, 1.031504075, 2.022346795, 2.991027682, 3.937587355, 4.885570121, 5.833146507, 6.798790848, 7.791235734, 8.792807298, 9.778388351, 10.766749885, 11.760164525, 12.768777521, 13.802286646, 14.880660483, 16, 16, 16, 16], degree=3))
            add(Edge.make_bspline(
                [(20.756410256, -6.061206263), (20.755705874, -6.020883931), (20.754323647, -5.941758434), (20.740246929, -5.826102668), (20.717263399, -5.716332255), (20.683862072, -5.612915903), (20.642635681, -5.514673798), (20.591718073, -5.422108802), (20.530589098, -5.335676824), (20.461288534, -5.255806439), (20.384642467, -5.183767603), (20.303336668, -5.119526449), (20.215511922, -5.066394079), (20.122815874, -5.022594039), (20.025001904, -4.988896161), (19.922179826, -4.963882444), (19.81403452, -4.950672888), (19.740226592, -4.948313613), (19.702741052, -4.947115385)],
                knots=[0, 0, 0, 0, 1.123894411, 2.205445421, 3.243160173, 4.246488011, 5.231014757, 6.210004299, 7.185865357, 8.177612767, 9.153374344, 10.115157457, 11.061423229, 12.009021698, 12.96873347, 13.94135618, 14.954456845, 16, 16, 16, 16], degree=3))
        make_face(mode=Mode.SUBTRACT)
        Polygon((22.588141026, -2.572649573), (23.53792735, -2.572649573), (23.53792735, -4.133012821), (24.148504274, -4.133012821), (24.148504274, -4.947115385), (23.53792735, -4.947115385), (23.53792735, -8), (22.588141026, -8), (22.588141026, -4.947115385), (22.113247863, -4.947115385), (22.113247863, -4.133012821), (22.588141026, -4.133012821), align=None)
    extrude(amount=-ENL_V_MAT_EXTRU_2_DEPTH, mode=Mode.SUBTRACT)


with BuildPart() as body_2:
    # of the pieces the cut leaves, the one that is kept (enl_v_mat_extru_2_keep)
    add(part.part.solids().sort_by_distance((31, -5, -2.5))[0])


solid = body_2.part
